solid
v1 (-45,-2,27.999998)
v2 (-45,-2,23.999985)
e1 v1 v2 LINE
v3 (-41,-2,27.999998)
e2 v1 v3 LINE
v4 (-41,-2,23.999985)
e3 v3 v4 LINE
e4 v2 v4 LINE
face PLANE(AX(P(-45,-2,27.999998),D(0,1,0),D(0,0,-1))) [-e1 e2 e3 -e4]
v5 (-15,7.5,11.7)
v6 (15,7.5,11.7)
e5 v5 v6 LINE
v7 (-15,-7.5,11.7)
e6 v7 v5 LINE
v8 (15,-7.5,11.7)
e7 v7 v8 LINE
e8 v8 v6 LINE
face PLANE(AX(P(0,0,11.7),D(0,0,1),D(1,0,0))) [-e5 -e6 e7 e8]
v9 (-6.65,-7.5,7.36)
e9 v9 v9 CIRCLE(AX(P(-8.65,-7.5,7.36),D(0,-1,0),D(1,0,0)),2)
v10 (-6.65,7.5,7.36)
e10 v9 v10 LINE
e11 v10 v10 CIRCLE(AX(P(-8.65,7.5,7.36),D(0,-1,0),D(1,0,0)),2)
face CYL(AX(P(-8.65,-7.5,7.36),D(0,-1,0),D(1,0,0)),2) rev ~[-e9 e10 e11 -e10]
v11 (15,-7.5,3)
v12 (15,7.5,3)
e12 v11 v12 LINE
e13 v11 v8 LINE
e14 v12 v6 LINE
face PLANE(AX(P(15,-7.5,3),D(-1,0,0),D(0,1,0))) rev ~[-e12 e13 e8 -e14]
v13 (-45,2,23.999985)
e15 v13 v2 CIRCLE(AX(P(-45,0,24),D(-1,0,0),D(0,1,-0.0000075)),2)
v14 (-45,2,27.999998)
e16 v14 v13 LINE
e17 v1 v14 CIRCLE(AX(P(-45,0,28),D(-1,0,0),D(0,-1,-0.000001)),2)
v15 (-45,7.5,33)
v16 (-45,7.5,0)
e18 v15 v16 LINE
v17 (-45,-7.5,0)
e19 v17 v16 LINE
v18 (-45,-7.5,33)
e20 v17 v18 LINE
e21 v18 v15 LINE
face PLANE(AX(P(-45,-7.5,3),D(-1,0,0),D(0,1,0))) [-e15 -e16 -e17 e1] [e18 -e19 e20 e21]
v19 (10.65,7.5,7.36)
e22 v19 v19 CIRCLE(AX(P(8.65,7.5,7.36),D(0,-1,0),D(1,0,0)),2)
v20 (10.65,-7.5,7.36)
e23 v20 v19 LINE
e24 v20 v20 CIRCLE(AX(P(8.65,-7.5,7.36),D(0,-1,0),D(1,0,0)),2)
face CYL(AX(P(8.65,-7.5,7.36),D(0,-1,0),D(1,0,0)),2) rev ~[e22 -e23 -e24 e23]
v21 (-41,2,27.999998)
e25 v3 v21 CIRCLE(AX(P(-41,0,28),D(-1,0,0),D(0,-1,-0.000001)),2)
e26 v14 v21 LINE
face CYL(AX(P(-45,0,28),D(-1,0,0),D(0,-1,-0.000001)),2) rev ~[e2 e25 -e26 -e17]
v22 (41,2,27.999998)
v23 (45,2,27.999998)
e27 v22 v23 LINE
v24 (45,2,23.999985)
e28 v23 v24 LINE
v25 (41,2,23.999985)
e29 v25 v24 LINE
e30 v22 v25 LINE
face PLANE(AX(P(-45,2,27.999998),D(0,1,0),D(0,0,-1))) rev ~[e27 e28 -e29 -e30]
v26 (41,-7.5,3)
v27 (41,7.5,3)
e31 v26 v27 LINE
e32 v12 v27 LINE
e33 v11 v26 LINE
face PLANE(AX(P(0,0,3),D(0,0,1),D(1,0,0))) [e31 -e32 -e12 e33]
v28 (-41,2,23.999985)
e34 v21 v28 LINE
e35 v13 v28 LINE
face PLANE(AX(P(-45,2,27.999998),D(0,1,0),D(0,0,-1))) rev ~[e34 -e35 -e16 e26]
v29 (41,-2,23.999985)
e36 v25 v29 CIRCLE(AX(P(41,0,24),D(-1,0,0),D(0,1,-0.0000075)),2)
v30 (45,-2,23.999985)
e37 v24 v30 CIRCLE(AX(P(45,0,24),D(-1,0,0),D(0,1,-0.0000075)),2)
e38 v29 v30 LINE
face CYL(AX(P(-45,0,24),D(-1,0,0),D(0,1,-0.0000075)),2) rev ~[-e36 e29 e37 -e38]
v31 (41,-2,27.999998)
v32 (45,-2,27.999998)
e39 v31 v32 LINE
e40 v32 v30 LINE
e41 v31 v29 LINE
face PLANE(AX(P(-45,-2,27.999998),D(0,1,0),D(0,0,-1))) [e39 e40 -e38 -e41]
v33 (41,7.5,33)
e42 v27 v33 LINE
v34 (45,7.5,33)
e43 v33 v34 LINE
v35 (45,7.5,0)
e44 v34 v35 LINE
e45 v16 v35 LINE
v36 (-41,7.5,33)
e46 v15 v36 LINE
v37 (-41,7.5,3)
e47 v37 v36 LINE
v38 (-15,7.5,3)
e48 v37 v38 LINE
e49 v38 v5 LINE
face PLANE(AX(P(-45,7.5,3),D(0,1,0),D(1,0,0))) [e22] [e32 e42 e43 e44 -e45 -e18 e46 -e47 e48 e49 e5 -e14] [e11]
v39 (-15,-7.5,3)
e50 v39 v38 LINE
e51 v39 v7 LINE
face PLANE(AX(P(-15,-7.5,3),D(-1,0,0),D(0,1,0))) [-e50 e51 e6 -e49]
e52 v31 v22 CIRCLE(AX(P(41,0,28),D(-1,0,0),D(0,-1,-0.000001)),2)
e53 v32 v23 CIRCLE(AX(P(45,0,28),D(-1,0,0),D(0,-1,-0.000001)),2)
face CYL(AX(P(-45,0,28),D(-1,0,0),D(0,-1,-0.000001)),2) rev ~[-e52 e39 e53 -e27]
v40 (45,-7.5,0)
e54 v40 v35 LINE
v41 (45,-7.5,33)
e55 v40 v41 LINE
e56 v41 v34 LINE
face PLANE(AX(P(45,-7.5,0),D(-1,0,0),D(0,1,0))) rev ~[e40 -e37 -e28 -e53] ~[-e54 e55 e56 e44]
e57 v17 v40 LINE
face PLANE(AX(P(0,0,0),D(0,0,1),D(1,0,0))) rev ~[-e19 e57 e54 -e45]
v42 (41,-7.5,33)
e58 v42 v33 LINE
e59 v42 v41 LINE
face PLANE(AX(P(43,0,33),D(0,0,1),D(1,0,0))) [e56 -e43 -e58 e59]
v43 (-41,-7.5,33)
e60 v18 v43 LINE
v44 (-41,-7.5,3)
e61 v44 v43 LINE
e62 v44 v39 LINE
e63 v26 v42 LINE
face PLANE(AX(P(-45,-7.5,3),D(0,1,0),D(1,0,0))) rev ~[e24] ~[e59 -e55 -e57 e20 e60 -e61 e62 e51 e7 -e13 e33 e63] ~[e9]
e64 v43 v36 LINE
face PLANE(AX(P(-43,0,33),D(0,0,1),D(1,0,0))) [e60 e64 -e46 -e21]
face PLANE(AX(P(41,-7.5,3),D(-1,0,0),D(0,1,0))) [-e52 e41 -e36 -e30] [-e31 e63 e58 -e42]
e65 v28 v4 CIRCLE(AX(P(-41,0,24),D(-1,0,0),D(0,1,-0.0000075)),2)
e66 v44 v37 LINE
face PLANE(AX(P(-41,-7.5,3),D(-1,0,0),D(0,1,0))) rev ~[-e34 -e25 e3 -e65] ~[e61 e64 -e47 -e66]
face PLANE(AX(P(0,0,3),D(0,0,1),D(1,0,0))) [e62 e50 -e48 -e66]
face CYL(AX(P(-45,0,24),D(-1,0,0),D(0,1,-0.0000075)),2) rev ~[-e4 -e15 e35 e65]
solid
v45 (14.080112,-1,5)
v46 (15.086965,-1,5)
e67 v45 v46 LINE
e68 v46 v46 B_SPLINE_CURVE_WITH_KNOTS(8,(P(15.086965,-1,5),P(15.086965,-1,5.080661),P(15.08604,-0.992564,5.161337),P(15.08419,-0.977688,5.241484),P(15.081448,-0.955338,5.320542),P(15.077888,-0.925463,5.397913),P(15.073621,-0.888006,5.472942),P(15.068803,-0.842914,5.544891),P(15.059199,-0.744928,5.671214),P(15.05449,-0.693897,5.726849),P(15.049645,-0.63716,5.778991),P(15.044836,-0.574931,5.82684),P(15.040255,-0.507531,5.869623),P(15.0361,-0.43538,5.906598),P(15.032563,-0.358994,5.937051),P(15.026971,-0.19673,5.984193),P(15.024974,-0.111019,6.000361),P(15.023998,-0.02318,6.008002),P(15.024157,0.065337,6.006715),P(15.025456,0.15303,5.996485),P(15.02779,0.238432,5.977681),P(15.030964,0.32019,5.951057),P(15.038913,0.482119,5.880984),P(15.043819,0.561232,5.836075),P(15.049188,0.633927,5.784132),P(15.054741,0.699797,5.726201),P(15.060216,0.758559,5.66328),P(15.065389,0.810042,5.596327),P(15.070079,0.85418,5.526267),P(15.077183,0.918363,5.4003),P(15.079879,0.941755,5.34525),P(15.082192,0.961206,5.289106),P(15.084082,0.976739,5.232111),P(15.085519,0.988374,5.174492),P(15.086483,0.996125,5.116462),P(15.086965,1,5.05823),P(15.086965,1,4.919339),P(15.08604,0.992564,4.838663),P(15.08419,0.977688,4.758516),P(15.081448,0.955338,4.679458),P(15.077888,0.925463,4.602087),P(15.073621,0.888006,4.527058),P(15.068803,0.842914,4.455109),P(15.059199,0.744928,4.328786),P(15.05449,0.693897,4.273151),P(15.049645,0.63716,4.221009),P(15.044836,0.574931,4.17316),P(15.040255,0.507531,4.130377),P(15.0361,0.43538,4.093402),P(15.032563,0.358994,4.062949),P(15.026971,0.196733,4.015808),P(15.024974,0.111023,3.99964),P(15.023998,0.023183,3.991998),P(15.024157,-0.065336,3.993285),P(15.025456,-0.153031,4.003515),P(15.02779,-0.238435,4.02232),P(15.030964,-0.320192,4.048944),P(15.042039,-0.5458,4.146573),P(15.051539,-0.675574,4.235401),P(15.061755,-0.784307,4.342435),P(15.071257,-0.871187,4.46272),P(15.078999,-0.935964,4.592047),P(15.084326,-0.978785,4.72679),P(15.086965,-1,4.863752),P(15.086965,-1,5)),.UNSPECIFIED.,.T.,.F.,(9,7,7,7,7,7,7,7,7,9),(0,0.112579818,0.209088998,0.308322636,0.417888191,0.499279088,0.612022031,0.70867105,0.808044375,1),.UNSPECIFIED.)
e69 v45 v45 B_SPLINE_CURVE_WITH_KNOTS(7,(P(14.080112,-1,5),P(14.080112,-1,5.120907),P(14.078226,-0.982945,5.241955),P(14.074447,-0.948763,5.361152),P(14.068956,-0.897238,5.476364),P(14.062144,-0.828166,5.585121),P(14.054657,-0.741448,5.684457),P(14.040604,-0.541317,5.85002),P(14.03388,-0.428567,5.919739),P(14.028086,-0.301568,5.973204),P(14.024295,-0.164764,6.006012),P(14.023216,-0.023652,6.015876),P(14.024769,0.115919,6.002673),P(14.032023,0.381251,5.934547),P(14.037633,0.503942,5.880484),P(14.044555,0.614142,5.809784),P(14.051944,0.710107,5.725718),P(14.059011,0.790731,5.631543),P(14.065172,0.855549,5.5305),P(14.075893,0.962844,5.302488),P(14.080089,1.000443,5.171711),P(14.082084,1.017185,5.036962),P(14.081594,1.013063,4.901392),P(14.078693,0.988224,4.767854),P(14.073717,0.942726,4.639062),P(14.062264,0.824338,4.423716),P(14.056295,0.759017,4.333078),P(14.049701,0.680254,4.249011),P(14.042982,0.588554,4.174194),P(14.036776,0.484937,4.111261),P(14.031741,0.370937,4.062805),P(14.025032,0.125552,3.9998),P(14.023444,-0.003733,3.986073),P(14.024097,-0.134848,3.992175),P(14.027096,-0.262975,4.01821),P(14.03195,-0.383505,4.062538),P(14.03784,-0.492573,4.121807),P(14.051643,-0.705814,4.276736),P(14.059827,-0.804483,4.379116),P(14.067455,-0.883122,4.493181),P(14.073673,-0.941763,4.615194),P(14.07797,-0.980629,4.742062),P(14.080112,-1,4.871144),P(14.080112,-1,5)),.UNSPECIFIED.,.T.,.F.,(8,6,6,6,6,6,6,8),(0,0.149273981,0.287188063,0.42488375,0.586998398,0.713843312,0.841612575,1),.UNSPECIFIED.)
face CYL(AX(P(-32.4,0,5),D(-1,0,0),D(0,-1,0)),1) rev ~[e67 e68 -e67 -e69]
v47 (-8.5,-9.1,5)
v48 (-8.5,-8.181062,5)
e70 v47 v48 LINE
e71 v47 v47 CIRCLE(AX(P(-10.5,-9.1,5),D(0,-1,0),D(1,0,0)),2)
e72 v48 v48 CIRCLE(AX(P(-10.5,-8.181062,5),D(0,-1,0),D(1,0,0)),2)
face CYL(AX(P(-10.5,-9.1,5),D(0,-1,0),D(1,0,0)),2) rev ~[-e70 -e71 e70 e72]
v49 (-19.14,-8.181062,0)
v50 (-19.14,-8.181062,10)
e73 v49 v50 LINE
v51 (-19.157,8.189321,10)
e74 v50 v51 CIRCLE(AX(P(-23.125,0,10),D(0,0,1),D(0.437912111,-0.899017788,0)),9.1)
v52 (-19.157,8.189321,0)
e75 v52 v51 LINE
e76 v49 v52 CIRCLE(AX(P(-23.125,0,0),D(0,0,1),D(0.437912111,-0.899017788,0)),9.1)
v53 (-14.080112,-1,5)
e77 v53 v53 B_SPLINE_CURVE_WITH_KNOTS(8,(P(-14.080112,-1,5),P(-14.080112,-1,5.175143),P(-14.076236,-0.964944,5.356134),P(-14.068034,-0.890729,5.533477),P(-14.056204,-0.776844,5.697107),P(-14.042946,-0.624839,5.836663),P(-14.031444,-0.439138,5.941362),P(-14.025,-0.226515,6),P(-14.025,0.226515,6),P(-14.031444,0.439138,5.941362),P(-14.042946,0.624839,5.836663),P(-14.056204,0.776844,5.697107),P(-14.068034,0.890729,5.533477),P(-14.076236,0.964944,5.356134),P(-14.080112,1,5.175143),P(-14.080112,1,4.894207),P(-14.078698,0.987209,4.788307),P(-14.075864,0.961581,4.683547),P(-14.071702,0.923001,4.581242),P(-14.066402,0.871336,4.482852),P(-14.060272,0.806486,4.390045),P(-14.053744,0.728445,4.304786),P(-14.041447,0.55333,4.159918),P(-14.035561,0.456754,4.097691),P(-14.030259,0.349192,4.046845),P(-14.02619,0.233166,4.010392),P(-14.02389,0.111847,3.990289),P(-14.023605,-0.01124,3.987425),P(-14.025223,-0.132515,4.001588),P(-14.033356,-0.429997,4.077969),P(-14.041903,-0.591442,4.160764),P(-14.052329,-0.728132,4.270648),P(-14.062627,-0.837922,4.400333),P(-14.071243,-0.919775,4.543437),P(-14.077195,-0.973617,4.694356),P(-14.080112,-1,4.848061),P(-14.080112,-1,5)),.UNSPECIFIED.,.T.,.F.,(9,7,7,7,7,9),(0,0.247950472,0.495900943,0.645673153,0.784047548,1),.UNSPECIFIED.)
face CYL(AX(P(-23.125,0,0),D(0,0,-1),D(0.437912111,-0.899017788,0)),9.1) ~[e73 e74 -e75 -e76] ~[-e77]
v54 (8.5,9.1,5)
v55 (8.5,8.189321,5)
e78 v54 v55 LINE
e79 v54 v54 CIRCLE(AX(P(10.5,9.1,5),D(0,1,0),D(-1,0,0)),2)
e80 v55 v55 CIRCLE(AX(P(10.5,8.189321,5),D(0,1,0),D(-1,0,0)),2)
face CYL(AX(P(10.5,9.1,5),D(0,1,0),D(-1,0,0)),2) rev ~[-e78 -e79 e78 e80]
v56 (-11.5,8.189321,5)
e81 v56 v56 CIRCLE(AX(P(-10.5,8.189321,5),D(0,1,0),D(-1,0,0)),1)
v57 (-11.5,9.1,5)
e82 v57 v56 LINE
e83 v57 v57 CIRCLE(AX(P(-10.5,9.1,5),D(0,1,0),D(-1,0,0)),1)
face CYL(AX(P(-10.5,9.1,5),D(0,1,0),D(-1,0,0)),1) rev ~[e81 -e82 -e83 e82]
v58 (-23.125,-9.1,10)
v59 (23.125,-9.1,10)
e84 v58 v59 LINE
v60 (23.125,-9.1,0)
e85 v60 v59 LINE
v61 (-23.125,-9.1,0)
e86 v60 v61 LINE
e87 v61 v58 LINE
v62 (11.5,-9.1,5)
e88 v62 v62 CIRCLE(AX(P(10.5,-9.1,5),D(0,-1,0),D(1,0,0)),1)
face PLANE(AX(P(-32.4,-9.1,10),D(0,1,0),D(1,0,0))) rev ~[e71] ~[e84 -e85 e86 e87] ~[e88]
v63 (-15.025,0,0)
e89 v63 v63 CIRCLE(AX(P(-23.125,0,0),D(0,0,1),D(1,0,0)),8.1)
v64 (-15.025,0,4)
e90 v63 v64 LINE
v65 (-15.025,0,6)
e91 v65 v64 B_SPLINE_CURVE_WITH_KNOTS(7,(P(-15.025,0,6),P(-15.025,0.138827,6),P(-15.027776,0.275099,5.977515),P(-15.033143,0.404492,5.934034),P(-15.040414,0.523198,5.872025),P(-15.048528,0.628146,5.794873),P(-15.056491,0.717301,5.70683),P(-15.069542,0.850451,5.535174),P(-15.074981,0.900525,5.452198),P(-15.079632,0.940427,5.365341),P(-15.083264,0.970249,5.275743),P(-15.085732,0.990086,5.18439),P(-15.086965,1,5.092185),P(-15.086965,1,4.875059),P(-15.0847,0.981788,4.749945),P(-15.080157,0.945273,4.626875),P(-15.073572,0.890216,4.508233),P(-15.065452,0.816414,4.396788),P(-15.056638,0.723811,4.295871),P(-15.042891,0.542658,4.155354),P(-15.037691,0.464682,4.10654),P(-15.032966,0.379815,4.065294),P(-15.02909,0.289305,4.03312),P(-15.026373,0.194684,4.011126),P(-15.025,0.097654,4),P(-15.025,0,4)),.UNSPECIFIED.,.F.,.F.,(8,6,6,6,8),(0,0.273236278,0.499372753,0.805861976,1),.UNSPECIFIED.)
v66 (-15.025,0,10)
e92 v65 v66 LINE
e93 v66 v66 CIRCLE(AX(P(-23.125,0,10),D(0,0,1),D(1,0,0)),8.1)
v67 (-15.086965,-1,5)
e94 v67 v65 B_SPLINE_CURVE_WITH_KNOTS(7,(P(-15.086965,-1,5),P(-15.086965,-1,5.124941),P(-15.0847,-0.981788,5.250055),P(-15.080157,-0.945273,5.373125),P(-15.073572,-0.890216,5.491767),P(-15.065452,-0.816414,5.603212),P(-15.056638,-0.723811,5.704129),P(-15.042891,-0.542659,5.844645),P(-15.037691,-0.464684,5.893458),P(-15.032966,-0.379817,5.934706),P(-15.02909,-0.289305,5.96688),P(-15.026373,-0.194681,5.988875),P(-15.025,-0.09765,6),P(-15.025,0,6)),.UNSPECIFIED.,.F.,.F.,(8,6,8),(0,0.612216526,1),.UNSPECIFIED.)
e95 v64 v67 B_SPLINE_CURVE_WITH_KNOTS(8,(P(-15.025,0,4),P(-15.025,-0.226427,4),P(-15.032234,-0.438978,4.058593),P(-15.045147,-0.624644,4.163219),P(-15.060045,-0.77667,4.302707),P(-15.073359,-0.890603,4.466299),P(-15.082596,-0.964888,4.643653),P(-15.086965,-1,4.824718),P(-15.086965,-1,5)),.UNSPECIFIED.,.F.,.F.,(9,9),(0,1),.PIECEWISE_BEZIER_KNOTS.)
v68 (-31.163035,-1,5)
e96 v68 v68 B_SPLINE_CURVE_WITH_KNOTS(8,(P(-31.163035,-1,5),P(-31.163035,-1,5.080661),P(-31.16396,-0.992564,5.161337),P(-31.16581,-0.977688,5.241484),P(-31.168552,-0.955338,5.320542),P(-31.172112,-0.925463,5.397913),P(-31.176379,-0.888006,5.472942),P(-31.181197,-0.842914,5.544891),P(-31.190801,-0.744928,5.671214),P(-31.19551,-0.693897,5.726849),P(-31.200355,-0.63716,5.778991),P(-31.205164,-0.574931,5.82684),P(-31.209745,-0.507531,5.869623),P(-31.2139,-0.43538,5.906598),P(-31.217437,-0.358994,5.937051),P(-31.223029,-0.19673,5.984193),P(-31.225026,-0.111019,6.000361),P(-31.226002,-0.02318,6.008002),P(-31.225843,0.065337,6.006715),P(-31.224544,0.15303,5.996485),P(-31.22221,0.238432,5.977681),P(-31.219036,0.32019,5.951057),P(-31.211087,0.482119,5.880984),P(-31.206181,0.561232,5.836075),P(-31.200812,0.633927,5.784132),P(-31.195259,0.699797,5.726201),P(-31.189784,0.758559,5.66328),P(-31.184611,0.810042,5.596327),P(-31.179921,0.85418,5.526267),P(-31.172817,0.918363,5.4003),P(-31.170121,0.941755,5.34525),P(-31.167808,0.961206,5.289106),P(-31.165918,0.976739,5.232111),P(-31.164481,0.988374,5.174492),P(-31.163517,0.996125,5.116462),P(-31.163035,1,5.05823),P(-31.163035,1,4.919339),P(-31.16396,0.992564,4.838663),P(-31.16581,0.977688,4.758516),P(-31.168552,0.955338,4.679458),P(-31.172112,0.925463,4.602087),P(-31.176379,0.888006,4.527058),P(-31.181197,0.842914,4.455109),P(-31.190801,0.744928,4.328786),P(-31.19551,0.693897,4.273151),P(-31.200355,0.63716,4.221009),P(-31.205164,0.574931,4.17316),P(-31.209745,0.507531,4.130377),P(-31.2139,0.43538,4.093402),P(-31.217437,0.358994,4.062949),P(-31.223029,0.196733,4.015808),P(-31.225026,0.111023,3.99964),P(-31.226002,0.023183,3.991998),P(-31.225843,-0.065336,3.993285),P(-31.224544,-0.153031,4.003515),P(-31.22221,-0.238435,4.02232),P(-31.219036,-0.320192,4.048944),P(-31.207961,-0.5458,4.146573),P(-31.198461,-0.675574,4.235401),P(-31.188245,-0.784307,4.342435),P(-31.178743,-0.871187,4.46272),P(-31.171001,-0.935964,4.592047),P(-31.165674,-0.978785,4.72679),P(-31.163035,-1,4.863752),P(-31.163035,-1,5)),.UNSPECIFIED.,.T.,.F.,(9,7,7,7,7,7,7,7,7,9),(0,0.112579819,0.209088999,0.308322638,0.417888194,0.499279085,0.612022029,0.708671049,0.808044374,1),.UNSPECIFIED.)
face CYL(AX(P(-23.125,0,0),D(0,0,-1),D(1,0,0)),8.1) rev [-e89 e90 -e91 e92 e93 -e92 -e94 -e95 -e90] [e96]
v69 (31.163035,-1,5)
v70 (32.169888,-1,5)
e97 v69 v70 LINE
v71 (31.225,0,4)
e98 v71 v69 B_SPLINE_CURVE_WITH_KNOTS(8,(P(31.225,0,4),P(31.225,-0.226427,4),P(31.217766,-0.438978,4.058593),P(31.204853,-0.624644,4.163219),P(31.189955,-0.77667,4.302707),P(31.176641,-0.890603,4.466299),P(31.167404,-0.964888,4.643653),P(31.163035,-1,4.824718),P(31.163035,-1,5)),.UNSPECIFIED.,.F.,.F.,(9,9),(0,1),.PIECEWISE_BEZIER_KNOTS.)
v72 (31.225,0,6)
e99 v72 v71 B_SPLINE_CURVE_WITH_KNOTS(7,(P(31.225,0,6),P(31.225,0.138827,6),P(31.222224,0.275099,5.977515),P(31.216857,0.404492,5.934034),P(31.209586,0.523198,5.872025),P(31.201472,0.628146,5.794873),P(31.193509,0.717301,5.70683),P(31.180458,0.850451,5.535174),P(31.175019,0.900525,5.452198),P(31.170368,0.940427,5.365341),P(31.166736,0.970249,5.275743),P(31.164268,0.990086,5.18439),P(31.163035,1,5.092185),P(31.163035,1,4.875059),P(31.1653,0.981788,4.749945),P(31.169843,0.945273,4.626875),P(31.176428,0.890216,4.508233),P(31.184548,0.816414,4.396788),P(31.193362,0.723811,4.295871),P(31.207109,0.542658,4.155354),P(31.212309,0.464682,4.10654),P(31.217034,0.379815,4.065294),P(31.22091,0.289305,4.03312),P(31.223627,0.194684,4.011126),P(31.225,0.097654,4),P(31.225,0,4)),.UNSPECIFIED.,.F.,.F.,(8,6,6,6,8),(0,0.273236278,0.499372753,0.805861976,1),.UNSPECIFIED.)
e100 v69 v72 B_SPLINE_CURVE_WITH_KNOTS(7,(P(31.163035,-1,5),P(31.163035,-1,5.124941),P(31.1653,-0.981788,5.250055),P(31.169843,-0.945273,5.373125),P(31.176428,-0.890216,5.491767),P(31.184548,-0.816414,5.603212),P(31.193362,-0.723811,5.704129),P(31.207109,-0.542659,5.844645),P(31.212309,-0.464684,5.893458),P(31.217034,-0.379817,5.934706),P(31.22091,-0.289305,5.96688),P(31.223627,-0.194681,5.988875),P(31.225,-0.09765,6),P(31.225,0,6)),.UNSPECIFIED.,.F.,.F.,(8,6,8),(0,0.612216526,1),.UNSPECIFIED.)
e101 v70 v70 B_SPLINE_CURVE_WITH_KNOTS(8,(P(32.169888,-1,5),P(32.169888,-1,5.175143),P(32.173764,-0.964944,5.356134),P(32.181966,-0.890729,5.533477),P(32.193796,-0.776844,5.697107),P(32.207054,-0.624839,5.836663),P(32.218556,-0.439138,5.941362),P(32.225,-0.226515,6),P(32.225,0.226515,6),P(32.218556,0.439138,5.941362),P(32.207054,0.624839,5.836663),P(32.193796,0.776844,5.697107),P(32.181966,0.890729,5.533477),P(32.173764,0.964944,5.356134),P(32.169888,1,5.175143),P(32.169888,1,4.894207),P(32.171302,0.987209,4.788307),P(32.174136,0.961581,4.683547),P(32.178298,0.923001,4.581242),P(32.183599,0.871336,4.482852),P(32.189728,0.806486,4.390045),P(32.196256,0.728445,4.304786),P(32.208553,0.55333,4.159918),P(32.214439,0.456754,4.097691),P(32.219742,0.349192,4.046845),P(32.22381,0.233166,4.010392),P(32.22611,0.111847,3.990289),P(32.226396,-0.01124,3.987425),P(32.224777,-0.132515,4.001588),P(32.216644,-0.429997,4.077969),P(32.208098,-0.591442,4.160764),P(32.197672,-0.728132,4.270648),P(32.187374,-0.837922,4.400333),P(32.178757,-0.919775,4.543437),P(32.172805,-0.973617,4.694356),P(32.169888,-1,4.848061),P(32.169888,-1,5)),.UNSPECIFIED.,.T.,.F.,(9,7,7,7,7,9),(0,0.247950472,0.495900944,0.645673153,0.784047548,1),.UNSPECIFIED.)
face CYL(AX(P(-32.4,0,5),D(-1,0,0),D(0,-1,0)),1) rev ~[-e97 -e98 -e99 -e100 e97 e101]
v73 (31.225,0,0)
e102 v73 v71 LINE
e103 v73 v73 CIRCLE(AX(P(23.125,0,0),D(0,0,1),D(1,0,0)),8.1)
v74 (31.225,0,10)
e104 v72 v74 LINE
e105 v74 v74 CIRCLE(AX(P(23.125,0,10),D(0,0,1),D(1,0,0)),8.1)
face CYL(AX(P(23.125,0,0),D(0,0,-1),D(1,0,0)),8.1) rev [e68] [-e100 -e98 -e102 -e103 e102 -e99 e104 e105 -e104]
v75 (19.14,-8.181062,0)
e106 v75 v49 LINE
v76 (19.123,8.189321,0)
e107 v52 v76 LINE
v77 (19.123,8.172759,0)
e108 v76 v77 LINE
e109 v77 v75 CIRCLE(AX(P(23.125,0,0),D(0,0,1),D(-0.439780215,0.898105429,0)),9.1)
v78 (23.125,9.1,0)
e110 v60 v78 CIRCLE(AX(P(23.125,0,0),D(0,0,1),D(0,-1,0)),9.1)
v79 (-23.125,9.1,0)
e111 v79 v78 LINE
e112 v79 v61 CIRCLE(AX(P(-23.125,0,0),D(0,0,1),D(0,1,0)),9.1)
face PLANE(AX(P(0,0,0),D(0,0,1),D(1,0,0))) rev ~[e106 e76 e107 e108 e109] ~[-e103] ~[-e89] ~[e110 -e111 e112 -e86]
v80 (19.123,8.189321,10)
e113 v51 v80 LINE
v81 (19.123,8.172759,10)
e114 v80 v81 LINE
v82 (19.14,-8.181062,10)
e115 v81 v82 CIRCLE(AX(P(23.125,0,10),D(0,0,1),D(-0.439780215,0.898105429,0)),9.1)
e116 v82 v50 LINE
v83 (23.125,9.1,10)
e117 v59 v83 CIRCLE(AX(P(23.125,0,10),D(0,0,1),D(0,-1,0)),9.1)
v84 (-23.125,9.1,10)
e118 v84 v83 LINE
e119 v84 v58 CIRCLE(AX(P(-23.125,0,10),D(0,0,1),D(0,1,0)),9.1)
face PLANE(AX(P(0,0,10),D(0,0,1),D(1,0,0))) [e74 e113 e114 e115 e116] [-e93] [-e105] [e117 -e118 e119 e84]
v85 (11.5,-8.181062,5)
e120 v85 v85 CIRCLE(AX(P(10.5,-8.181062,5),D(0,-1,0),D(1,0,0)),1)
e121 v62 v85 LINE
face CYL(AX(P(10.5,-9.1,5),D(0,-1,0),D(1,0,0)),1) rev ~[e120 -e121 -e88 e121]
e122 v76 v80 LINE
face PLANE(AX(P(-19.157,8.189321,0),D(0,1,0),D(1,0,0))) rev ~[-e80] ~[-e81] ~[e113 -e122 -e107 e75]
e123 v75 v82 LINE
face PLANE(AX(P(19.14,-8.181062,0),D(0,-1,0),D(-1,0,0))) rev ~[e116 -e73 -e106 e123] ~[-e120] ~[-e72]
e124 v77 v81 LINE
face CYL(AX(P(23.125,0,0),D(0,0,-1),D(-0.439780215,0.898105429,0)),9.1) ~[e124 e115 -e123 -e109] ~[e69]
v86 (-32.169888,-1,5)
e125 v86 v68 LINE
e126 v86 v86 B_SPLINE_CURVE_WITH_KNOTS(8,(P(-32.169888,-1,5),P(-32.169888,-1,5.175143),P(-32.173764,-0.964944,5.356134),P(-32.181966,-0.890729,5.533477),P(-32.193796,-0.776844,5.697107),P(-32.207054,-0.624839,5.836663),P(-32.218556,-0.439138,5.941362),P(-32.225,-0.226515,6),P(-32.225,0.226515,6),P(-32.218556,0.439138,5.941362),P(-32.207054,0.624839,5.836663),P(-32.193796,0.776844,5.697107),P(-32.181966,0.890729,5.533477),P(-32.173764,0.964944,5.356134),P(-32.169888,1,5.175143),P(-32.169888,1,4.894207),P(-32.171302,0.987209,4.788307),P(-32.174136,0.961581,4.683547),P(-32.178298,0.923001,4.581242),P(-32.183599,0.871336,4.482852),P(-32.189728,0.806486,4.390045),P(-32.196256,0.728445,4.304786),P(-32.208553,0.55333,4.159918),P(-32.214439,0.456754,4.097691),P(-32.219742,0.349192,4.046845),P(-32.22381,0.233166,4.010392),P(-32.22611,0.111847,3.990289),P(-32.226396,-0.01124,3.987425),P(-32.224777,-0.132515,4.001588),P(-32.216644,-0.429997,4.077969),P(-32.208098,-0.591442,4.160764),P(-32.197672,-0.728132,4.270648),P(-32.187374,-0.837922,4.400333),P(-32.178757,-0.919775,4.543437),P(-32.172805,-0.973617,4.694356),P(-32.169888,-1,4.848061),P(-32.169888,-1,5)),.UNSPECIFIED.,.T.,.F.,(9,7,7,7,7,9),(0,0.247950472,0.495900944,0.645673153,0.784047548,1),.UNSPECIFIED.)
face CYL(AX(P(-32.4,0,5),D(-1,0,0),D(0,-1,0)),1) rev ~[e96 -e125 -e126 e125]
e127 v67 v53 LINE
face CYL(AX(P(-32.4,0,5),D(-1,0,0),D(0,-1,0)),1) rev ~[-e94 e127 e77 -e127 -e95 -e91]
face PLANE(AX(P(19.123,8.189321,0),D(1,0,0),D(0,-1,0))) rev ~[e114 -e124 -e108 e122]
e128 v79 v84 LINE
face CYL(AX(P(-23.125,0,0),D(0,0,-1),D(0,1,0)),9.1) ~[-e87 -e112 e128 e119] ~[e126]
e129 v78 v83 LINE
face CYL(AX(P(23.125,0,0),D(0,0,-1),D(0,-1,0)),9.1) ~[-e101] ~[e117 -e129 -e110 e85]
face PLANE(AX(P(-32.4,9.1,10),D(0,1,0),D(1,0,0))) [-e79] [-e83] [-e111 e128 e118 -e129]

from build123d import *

# Parameters (mm, degrees)
SKETCH_W        = 90
SKETCH_H        = 15
PAD_DEPTH       = 3
SKETCH001_W     = 30
SKETCH001_H     = 15
PAD001_DEPTH    = 8.7
SKETCH002_R     = 2
POCKET_DEPTH    = 15.001
SKETCH003_W     = 4
SKETCH003_H     = 15
PAD002_DEPTH    = 30
POCKET001_DEPTH = 90.001
SKETCH005_R     = 8.1
PAD003_DEPTH    = 10
SKETCH006_W     = 64.8
SKETCH006_H     = 18.2
PAD004_DEPTH    = 10
SKETCH007_R     = 1
POCKET002_DEPTH = 64.801
SKETCH008_W     = 64.8
SKETCH008_H     = 18.2
POCKET003_DEPTH = 10
SKETCH009_R     = 2
SKETCH009_R_2   = 1
POCKET004_DEPTH = 2
SKETCH010_R     = 2
SKETCH010_R_2   = 1
POCKET005_DEPTH = 2


with BuildPart() as motorbracketbody:
    # Sketch → Pad (new body)
    with BuildSketch(Plane.XY):
        Rectangle(SKETCH_W, SKETCH_H)
    extrude(amount=PAD_DEPTH)

    # Sketch001 (on Face6 of Pad) → Pad001 (join)
    with BuildSketch(Plane.XY.offset(3)):
        Rectangle(SKETCH001_W, SKETCH001_H)
    extrude(amount=PAD001_DEPTH)

    # Sketch002 (on Face12 of Pad001) → Pocket (cut, through all)
    with BuildSketch(Plane.XZ.offset(7.5)):
        with Locations((8.65, 7.36)):
            Circle(SKETCH002_R)
        with Locations((-8.65, 7.36)):
            Circle(SKETCH002_R)
    extrude(amount=-POCKET_DEPTH, mode=Mode.SUBTRACT)

    # Sketch003 (on Face5 of Pocket) → Pad002 (join)
    with BuildSketch(Plane.XY.offset(3)):
        with Locations((-43, 0)):
            Rectangle(SKETCH003_W, SKETCH003_H)
        with Locations((43, 0)):
            Rectangle(SKETCH003_W, SKETCH003_H)
    extrude(amount=PAD002_DEPTH)

    # Sketch004 (on Face11 of Pad002) → Pocket001 (cut, through all)
    with BuildSketch(Plane(origin=(-45, 0, 0), x_dir=(0, -1, 0), z_dir=(-1, 0, 0))):
        with BuildLine():
            ThreePointArc((2, 27.999998), (0, 30), (-2, 27.999998))
            Line((-2, 27.999998), (-2, 23.999985))
            ThreePointArc((-2, 23.999985), (0, 22), (2, 23.999985))
            Line((2, 27.999998), (2, 23.999985))
        make_face()
    extrude(amount=-POCKET001_DEPTH, mode=Mode.SUBTRACT)


with BuildPart() as motorringsbody:
    # Sketch005 → Pad003 (new body)
    with BuildSketch(Plane.XY):
        with BuildLine():
            ThreePointArc((-23.125, 9.1), (-32.225, 0), (-23.125, -9.1))
            Line((23.125, -9.1), (-23.125, -9.1))
            ThreePointArc((23.125, -9.1), (32.225, 0), (23.125, 9.1))
            Line((-23.125, 9.1), (23.125, 9.1))
        make_face()
        with Locations((-23.125, 0)):
            Circle(SKETCH005_R, mode=Mode.SUBTRACT)
        with Locations((23.125, 0)):
            Circle(SKETCH005_R, mode=Mode.SUBTRACT)
        with BuildLine():
            ThreePointArc((-19.14, -8.181062), (-14.025005, 0.00945), (-19.157, 8.189321))
            Line((-19.157, 8.189321), (19.123, 8.189321))
            Line((19.123, 8.189321), (19.123, 8.172759))
            ThreePointArc((19.123, 8.172759), (14.025005, -0.00946), (19.14, -8.181062))
            Line((19.14, -8.181062), (-19.14, -8.181062))
        make_face(mode=Mode.SUBTRACT)
    extrude(amount=PAD003_DEPTH)

    # Sketch006 (on Face13 of Pad003) → Pad004 (join)
    with BuildSketch(Plane.XY.offset(10)):
        Rectangle(SKETCH006_W, SKETCH006_H)
    extrude(amount=PAD004_DEPTH)

    # Sketch007 (on Face2 of Pad004) → Pocket002 (cut, through all)
    with BuildSketch(Plane(origin=(-32.4, 0, 0), x_dir=(0, -1, 0), z_dir=(-1, 0, 0))):
        with Locations((0, 5)):
            Circle(SKETCH007_R)
    extrude(amount=-POCKET002_DEPTH, mode=Mode.SUBTRACT)

    # Sketch008 (on Face7 of Pocket002) → Pocket003 (cut)
    with BuildSketch(Plane.XY.offset(20)):
        Rectangle(SKETCH008_W, SKETCH008_H)
    extrude(amount=-POCKET003_DEPTH, mode=Mode.SUBTRACT)

    # Sketch009 (on Face6 of Pocket003) → Pocket004 (cut)
    with BuildSketch(Plane.XZ.offset(9.1)):
        with Locations((-10.5, 5)):
            Circle(SKETCH009_R)
        with Locations((10.5, 5)):
            Circle(SKETCH009_R_2)
    extrude(amount=-POCKET004_DEPTH, mode=Mode.SUBTRACT)

    # Sketch010 (on Face1 of Pocket004) → Pocket005 (cut)
    with BuildSketch(Plane(origin=(0, 9.1, 0), x_dir=(-1, 0, 0), z_dir=(0, 1, 0))):
        with Locations((-10.5, 5)):
            Circle(SKETCH010_R)
        with Locations((10.5, 5)):
            Circle(SKETCH010_R_2)
    extrude(amount=-POCKET005_DEPTH, mode=Mode.SUBTRACT)


solid = Compound([motorbracketbody.part, motorringsbody.part])
